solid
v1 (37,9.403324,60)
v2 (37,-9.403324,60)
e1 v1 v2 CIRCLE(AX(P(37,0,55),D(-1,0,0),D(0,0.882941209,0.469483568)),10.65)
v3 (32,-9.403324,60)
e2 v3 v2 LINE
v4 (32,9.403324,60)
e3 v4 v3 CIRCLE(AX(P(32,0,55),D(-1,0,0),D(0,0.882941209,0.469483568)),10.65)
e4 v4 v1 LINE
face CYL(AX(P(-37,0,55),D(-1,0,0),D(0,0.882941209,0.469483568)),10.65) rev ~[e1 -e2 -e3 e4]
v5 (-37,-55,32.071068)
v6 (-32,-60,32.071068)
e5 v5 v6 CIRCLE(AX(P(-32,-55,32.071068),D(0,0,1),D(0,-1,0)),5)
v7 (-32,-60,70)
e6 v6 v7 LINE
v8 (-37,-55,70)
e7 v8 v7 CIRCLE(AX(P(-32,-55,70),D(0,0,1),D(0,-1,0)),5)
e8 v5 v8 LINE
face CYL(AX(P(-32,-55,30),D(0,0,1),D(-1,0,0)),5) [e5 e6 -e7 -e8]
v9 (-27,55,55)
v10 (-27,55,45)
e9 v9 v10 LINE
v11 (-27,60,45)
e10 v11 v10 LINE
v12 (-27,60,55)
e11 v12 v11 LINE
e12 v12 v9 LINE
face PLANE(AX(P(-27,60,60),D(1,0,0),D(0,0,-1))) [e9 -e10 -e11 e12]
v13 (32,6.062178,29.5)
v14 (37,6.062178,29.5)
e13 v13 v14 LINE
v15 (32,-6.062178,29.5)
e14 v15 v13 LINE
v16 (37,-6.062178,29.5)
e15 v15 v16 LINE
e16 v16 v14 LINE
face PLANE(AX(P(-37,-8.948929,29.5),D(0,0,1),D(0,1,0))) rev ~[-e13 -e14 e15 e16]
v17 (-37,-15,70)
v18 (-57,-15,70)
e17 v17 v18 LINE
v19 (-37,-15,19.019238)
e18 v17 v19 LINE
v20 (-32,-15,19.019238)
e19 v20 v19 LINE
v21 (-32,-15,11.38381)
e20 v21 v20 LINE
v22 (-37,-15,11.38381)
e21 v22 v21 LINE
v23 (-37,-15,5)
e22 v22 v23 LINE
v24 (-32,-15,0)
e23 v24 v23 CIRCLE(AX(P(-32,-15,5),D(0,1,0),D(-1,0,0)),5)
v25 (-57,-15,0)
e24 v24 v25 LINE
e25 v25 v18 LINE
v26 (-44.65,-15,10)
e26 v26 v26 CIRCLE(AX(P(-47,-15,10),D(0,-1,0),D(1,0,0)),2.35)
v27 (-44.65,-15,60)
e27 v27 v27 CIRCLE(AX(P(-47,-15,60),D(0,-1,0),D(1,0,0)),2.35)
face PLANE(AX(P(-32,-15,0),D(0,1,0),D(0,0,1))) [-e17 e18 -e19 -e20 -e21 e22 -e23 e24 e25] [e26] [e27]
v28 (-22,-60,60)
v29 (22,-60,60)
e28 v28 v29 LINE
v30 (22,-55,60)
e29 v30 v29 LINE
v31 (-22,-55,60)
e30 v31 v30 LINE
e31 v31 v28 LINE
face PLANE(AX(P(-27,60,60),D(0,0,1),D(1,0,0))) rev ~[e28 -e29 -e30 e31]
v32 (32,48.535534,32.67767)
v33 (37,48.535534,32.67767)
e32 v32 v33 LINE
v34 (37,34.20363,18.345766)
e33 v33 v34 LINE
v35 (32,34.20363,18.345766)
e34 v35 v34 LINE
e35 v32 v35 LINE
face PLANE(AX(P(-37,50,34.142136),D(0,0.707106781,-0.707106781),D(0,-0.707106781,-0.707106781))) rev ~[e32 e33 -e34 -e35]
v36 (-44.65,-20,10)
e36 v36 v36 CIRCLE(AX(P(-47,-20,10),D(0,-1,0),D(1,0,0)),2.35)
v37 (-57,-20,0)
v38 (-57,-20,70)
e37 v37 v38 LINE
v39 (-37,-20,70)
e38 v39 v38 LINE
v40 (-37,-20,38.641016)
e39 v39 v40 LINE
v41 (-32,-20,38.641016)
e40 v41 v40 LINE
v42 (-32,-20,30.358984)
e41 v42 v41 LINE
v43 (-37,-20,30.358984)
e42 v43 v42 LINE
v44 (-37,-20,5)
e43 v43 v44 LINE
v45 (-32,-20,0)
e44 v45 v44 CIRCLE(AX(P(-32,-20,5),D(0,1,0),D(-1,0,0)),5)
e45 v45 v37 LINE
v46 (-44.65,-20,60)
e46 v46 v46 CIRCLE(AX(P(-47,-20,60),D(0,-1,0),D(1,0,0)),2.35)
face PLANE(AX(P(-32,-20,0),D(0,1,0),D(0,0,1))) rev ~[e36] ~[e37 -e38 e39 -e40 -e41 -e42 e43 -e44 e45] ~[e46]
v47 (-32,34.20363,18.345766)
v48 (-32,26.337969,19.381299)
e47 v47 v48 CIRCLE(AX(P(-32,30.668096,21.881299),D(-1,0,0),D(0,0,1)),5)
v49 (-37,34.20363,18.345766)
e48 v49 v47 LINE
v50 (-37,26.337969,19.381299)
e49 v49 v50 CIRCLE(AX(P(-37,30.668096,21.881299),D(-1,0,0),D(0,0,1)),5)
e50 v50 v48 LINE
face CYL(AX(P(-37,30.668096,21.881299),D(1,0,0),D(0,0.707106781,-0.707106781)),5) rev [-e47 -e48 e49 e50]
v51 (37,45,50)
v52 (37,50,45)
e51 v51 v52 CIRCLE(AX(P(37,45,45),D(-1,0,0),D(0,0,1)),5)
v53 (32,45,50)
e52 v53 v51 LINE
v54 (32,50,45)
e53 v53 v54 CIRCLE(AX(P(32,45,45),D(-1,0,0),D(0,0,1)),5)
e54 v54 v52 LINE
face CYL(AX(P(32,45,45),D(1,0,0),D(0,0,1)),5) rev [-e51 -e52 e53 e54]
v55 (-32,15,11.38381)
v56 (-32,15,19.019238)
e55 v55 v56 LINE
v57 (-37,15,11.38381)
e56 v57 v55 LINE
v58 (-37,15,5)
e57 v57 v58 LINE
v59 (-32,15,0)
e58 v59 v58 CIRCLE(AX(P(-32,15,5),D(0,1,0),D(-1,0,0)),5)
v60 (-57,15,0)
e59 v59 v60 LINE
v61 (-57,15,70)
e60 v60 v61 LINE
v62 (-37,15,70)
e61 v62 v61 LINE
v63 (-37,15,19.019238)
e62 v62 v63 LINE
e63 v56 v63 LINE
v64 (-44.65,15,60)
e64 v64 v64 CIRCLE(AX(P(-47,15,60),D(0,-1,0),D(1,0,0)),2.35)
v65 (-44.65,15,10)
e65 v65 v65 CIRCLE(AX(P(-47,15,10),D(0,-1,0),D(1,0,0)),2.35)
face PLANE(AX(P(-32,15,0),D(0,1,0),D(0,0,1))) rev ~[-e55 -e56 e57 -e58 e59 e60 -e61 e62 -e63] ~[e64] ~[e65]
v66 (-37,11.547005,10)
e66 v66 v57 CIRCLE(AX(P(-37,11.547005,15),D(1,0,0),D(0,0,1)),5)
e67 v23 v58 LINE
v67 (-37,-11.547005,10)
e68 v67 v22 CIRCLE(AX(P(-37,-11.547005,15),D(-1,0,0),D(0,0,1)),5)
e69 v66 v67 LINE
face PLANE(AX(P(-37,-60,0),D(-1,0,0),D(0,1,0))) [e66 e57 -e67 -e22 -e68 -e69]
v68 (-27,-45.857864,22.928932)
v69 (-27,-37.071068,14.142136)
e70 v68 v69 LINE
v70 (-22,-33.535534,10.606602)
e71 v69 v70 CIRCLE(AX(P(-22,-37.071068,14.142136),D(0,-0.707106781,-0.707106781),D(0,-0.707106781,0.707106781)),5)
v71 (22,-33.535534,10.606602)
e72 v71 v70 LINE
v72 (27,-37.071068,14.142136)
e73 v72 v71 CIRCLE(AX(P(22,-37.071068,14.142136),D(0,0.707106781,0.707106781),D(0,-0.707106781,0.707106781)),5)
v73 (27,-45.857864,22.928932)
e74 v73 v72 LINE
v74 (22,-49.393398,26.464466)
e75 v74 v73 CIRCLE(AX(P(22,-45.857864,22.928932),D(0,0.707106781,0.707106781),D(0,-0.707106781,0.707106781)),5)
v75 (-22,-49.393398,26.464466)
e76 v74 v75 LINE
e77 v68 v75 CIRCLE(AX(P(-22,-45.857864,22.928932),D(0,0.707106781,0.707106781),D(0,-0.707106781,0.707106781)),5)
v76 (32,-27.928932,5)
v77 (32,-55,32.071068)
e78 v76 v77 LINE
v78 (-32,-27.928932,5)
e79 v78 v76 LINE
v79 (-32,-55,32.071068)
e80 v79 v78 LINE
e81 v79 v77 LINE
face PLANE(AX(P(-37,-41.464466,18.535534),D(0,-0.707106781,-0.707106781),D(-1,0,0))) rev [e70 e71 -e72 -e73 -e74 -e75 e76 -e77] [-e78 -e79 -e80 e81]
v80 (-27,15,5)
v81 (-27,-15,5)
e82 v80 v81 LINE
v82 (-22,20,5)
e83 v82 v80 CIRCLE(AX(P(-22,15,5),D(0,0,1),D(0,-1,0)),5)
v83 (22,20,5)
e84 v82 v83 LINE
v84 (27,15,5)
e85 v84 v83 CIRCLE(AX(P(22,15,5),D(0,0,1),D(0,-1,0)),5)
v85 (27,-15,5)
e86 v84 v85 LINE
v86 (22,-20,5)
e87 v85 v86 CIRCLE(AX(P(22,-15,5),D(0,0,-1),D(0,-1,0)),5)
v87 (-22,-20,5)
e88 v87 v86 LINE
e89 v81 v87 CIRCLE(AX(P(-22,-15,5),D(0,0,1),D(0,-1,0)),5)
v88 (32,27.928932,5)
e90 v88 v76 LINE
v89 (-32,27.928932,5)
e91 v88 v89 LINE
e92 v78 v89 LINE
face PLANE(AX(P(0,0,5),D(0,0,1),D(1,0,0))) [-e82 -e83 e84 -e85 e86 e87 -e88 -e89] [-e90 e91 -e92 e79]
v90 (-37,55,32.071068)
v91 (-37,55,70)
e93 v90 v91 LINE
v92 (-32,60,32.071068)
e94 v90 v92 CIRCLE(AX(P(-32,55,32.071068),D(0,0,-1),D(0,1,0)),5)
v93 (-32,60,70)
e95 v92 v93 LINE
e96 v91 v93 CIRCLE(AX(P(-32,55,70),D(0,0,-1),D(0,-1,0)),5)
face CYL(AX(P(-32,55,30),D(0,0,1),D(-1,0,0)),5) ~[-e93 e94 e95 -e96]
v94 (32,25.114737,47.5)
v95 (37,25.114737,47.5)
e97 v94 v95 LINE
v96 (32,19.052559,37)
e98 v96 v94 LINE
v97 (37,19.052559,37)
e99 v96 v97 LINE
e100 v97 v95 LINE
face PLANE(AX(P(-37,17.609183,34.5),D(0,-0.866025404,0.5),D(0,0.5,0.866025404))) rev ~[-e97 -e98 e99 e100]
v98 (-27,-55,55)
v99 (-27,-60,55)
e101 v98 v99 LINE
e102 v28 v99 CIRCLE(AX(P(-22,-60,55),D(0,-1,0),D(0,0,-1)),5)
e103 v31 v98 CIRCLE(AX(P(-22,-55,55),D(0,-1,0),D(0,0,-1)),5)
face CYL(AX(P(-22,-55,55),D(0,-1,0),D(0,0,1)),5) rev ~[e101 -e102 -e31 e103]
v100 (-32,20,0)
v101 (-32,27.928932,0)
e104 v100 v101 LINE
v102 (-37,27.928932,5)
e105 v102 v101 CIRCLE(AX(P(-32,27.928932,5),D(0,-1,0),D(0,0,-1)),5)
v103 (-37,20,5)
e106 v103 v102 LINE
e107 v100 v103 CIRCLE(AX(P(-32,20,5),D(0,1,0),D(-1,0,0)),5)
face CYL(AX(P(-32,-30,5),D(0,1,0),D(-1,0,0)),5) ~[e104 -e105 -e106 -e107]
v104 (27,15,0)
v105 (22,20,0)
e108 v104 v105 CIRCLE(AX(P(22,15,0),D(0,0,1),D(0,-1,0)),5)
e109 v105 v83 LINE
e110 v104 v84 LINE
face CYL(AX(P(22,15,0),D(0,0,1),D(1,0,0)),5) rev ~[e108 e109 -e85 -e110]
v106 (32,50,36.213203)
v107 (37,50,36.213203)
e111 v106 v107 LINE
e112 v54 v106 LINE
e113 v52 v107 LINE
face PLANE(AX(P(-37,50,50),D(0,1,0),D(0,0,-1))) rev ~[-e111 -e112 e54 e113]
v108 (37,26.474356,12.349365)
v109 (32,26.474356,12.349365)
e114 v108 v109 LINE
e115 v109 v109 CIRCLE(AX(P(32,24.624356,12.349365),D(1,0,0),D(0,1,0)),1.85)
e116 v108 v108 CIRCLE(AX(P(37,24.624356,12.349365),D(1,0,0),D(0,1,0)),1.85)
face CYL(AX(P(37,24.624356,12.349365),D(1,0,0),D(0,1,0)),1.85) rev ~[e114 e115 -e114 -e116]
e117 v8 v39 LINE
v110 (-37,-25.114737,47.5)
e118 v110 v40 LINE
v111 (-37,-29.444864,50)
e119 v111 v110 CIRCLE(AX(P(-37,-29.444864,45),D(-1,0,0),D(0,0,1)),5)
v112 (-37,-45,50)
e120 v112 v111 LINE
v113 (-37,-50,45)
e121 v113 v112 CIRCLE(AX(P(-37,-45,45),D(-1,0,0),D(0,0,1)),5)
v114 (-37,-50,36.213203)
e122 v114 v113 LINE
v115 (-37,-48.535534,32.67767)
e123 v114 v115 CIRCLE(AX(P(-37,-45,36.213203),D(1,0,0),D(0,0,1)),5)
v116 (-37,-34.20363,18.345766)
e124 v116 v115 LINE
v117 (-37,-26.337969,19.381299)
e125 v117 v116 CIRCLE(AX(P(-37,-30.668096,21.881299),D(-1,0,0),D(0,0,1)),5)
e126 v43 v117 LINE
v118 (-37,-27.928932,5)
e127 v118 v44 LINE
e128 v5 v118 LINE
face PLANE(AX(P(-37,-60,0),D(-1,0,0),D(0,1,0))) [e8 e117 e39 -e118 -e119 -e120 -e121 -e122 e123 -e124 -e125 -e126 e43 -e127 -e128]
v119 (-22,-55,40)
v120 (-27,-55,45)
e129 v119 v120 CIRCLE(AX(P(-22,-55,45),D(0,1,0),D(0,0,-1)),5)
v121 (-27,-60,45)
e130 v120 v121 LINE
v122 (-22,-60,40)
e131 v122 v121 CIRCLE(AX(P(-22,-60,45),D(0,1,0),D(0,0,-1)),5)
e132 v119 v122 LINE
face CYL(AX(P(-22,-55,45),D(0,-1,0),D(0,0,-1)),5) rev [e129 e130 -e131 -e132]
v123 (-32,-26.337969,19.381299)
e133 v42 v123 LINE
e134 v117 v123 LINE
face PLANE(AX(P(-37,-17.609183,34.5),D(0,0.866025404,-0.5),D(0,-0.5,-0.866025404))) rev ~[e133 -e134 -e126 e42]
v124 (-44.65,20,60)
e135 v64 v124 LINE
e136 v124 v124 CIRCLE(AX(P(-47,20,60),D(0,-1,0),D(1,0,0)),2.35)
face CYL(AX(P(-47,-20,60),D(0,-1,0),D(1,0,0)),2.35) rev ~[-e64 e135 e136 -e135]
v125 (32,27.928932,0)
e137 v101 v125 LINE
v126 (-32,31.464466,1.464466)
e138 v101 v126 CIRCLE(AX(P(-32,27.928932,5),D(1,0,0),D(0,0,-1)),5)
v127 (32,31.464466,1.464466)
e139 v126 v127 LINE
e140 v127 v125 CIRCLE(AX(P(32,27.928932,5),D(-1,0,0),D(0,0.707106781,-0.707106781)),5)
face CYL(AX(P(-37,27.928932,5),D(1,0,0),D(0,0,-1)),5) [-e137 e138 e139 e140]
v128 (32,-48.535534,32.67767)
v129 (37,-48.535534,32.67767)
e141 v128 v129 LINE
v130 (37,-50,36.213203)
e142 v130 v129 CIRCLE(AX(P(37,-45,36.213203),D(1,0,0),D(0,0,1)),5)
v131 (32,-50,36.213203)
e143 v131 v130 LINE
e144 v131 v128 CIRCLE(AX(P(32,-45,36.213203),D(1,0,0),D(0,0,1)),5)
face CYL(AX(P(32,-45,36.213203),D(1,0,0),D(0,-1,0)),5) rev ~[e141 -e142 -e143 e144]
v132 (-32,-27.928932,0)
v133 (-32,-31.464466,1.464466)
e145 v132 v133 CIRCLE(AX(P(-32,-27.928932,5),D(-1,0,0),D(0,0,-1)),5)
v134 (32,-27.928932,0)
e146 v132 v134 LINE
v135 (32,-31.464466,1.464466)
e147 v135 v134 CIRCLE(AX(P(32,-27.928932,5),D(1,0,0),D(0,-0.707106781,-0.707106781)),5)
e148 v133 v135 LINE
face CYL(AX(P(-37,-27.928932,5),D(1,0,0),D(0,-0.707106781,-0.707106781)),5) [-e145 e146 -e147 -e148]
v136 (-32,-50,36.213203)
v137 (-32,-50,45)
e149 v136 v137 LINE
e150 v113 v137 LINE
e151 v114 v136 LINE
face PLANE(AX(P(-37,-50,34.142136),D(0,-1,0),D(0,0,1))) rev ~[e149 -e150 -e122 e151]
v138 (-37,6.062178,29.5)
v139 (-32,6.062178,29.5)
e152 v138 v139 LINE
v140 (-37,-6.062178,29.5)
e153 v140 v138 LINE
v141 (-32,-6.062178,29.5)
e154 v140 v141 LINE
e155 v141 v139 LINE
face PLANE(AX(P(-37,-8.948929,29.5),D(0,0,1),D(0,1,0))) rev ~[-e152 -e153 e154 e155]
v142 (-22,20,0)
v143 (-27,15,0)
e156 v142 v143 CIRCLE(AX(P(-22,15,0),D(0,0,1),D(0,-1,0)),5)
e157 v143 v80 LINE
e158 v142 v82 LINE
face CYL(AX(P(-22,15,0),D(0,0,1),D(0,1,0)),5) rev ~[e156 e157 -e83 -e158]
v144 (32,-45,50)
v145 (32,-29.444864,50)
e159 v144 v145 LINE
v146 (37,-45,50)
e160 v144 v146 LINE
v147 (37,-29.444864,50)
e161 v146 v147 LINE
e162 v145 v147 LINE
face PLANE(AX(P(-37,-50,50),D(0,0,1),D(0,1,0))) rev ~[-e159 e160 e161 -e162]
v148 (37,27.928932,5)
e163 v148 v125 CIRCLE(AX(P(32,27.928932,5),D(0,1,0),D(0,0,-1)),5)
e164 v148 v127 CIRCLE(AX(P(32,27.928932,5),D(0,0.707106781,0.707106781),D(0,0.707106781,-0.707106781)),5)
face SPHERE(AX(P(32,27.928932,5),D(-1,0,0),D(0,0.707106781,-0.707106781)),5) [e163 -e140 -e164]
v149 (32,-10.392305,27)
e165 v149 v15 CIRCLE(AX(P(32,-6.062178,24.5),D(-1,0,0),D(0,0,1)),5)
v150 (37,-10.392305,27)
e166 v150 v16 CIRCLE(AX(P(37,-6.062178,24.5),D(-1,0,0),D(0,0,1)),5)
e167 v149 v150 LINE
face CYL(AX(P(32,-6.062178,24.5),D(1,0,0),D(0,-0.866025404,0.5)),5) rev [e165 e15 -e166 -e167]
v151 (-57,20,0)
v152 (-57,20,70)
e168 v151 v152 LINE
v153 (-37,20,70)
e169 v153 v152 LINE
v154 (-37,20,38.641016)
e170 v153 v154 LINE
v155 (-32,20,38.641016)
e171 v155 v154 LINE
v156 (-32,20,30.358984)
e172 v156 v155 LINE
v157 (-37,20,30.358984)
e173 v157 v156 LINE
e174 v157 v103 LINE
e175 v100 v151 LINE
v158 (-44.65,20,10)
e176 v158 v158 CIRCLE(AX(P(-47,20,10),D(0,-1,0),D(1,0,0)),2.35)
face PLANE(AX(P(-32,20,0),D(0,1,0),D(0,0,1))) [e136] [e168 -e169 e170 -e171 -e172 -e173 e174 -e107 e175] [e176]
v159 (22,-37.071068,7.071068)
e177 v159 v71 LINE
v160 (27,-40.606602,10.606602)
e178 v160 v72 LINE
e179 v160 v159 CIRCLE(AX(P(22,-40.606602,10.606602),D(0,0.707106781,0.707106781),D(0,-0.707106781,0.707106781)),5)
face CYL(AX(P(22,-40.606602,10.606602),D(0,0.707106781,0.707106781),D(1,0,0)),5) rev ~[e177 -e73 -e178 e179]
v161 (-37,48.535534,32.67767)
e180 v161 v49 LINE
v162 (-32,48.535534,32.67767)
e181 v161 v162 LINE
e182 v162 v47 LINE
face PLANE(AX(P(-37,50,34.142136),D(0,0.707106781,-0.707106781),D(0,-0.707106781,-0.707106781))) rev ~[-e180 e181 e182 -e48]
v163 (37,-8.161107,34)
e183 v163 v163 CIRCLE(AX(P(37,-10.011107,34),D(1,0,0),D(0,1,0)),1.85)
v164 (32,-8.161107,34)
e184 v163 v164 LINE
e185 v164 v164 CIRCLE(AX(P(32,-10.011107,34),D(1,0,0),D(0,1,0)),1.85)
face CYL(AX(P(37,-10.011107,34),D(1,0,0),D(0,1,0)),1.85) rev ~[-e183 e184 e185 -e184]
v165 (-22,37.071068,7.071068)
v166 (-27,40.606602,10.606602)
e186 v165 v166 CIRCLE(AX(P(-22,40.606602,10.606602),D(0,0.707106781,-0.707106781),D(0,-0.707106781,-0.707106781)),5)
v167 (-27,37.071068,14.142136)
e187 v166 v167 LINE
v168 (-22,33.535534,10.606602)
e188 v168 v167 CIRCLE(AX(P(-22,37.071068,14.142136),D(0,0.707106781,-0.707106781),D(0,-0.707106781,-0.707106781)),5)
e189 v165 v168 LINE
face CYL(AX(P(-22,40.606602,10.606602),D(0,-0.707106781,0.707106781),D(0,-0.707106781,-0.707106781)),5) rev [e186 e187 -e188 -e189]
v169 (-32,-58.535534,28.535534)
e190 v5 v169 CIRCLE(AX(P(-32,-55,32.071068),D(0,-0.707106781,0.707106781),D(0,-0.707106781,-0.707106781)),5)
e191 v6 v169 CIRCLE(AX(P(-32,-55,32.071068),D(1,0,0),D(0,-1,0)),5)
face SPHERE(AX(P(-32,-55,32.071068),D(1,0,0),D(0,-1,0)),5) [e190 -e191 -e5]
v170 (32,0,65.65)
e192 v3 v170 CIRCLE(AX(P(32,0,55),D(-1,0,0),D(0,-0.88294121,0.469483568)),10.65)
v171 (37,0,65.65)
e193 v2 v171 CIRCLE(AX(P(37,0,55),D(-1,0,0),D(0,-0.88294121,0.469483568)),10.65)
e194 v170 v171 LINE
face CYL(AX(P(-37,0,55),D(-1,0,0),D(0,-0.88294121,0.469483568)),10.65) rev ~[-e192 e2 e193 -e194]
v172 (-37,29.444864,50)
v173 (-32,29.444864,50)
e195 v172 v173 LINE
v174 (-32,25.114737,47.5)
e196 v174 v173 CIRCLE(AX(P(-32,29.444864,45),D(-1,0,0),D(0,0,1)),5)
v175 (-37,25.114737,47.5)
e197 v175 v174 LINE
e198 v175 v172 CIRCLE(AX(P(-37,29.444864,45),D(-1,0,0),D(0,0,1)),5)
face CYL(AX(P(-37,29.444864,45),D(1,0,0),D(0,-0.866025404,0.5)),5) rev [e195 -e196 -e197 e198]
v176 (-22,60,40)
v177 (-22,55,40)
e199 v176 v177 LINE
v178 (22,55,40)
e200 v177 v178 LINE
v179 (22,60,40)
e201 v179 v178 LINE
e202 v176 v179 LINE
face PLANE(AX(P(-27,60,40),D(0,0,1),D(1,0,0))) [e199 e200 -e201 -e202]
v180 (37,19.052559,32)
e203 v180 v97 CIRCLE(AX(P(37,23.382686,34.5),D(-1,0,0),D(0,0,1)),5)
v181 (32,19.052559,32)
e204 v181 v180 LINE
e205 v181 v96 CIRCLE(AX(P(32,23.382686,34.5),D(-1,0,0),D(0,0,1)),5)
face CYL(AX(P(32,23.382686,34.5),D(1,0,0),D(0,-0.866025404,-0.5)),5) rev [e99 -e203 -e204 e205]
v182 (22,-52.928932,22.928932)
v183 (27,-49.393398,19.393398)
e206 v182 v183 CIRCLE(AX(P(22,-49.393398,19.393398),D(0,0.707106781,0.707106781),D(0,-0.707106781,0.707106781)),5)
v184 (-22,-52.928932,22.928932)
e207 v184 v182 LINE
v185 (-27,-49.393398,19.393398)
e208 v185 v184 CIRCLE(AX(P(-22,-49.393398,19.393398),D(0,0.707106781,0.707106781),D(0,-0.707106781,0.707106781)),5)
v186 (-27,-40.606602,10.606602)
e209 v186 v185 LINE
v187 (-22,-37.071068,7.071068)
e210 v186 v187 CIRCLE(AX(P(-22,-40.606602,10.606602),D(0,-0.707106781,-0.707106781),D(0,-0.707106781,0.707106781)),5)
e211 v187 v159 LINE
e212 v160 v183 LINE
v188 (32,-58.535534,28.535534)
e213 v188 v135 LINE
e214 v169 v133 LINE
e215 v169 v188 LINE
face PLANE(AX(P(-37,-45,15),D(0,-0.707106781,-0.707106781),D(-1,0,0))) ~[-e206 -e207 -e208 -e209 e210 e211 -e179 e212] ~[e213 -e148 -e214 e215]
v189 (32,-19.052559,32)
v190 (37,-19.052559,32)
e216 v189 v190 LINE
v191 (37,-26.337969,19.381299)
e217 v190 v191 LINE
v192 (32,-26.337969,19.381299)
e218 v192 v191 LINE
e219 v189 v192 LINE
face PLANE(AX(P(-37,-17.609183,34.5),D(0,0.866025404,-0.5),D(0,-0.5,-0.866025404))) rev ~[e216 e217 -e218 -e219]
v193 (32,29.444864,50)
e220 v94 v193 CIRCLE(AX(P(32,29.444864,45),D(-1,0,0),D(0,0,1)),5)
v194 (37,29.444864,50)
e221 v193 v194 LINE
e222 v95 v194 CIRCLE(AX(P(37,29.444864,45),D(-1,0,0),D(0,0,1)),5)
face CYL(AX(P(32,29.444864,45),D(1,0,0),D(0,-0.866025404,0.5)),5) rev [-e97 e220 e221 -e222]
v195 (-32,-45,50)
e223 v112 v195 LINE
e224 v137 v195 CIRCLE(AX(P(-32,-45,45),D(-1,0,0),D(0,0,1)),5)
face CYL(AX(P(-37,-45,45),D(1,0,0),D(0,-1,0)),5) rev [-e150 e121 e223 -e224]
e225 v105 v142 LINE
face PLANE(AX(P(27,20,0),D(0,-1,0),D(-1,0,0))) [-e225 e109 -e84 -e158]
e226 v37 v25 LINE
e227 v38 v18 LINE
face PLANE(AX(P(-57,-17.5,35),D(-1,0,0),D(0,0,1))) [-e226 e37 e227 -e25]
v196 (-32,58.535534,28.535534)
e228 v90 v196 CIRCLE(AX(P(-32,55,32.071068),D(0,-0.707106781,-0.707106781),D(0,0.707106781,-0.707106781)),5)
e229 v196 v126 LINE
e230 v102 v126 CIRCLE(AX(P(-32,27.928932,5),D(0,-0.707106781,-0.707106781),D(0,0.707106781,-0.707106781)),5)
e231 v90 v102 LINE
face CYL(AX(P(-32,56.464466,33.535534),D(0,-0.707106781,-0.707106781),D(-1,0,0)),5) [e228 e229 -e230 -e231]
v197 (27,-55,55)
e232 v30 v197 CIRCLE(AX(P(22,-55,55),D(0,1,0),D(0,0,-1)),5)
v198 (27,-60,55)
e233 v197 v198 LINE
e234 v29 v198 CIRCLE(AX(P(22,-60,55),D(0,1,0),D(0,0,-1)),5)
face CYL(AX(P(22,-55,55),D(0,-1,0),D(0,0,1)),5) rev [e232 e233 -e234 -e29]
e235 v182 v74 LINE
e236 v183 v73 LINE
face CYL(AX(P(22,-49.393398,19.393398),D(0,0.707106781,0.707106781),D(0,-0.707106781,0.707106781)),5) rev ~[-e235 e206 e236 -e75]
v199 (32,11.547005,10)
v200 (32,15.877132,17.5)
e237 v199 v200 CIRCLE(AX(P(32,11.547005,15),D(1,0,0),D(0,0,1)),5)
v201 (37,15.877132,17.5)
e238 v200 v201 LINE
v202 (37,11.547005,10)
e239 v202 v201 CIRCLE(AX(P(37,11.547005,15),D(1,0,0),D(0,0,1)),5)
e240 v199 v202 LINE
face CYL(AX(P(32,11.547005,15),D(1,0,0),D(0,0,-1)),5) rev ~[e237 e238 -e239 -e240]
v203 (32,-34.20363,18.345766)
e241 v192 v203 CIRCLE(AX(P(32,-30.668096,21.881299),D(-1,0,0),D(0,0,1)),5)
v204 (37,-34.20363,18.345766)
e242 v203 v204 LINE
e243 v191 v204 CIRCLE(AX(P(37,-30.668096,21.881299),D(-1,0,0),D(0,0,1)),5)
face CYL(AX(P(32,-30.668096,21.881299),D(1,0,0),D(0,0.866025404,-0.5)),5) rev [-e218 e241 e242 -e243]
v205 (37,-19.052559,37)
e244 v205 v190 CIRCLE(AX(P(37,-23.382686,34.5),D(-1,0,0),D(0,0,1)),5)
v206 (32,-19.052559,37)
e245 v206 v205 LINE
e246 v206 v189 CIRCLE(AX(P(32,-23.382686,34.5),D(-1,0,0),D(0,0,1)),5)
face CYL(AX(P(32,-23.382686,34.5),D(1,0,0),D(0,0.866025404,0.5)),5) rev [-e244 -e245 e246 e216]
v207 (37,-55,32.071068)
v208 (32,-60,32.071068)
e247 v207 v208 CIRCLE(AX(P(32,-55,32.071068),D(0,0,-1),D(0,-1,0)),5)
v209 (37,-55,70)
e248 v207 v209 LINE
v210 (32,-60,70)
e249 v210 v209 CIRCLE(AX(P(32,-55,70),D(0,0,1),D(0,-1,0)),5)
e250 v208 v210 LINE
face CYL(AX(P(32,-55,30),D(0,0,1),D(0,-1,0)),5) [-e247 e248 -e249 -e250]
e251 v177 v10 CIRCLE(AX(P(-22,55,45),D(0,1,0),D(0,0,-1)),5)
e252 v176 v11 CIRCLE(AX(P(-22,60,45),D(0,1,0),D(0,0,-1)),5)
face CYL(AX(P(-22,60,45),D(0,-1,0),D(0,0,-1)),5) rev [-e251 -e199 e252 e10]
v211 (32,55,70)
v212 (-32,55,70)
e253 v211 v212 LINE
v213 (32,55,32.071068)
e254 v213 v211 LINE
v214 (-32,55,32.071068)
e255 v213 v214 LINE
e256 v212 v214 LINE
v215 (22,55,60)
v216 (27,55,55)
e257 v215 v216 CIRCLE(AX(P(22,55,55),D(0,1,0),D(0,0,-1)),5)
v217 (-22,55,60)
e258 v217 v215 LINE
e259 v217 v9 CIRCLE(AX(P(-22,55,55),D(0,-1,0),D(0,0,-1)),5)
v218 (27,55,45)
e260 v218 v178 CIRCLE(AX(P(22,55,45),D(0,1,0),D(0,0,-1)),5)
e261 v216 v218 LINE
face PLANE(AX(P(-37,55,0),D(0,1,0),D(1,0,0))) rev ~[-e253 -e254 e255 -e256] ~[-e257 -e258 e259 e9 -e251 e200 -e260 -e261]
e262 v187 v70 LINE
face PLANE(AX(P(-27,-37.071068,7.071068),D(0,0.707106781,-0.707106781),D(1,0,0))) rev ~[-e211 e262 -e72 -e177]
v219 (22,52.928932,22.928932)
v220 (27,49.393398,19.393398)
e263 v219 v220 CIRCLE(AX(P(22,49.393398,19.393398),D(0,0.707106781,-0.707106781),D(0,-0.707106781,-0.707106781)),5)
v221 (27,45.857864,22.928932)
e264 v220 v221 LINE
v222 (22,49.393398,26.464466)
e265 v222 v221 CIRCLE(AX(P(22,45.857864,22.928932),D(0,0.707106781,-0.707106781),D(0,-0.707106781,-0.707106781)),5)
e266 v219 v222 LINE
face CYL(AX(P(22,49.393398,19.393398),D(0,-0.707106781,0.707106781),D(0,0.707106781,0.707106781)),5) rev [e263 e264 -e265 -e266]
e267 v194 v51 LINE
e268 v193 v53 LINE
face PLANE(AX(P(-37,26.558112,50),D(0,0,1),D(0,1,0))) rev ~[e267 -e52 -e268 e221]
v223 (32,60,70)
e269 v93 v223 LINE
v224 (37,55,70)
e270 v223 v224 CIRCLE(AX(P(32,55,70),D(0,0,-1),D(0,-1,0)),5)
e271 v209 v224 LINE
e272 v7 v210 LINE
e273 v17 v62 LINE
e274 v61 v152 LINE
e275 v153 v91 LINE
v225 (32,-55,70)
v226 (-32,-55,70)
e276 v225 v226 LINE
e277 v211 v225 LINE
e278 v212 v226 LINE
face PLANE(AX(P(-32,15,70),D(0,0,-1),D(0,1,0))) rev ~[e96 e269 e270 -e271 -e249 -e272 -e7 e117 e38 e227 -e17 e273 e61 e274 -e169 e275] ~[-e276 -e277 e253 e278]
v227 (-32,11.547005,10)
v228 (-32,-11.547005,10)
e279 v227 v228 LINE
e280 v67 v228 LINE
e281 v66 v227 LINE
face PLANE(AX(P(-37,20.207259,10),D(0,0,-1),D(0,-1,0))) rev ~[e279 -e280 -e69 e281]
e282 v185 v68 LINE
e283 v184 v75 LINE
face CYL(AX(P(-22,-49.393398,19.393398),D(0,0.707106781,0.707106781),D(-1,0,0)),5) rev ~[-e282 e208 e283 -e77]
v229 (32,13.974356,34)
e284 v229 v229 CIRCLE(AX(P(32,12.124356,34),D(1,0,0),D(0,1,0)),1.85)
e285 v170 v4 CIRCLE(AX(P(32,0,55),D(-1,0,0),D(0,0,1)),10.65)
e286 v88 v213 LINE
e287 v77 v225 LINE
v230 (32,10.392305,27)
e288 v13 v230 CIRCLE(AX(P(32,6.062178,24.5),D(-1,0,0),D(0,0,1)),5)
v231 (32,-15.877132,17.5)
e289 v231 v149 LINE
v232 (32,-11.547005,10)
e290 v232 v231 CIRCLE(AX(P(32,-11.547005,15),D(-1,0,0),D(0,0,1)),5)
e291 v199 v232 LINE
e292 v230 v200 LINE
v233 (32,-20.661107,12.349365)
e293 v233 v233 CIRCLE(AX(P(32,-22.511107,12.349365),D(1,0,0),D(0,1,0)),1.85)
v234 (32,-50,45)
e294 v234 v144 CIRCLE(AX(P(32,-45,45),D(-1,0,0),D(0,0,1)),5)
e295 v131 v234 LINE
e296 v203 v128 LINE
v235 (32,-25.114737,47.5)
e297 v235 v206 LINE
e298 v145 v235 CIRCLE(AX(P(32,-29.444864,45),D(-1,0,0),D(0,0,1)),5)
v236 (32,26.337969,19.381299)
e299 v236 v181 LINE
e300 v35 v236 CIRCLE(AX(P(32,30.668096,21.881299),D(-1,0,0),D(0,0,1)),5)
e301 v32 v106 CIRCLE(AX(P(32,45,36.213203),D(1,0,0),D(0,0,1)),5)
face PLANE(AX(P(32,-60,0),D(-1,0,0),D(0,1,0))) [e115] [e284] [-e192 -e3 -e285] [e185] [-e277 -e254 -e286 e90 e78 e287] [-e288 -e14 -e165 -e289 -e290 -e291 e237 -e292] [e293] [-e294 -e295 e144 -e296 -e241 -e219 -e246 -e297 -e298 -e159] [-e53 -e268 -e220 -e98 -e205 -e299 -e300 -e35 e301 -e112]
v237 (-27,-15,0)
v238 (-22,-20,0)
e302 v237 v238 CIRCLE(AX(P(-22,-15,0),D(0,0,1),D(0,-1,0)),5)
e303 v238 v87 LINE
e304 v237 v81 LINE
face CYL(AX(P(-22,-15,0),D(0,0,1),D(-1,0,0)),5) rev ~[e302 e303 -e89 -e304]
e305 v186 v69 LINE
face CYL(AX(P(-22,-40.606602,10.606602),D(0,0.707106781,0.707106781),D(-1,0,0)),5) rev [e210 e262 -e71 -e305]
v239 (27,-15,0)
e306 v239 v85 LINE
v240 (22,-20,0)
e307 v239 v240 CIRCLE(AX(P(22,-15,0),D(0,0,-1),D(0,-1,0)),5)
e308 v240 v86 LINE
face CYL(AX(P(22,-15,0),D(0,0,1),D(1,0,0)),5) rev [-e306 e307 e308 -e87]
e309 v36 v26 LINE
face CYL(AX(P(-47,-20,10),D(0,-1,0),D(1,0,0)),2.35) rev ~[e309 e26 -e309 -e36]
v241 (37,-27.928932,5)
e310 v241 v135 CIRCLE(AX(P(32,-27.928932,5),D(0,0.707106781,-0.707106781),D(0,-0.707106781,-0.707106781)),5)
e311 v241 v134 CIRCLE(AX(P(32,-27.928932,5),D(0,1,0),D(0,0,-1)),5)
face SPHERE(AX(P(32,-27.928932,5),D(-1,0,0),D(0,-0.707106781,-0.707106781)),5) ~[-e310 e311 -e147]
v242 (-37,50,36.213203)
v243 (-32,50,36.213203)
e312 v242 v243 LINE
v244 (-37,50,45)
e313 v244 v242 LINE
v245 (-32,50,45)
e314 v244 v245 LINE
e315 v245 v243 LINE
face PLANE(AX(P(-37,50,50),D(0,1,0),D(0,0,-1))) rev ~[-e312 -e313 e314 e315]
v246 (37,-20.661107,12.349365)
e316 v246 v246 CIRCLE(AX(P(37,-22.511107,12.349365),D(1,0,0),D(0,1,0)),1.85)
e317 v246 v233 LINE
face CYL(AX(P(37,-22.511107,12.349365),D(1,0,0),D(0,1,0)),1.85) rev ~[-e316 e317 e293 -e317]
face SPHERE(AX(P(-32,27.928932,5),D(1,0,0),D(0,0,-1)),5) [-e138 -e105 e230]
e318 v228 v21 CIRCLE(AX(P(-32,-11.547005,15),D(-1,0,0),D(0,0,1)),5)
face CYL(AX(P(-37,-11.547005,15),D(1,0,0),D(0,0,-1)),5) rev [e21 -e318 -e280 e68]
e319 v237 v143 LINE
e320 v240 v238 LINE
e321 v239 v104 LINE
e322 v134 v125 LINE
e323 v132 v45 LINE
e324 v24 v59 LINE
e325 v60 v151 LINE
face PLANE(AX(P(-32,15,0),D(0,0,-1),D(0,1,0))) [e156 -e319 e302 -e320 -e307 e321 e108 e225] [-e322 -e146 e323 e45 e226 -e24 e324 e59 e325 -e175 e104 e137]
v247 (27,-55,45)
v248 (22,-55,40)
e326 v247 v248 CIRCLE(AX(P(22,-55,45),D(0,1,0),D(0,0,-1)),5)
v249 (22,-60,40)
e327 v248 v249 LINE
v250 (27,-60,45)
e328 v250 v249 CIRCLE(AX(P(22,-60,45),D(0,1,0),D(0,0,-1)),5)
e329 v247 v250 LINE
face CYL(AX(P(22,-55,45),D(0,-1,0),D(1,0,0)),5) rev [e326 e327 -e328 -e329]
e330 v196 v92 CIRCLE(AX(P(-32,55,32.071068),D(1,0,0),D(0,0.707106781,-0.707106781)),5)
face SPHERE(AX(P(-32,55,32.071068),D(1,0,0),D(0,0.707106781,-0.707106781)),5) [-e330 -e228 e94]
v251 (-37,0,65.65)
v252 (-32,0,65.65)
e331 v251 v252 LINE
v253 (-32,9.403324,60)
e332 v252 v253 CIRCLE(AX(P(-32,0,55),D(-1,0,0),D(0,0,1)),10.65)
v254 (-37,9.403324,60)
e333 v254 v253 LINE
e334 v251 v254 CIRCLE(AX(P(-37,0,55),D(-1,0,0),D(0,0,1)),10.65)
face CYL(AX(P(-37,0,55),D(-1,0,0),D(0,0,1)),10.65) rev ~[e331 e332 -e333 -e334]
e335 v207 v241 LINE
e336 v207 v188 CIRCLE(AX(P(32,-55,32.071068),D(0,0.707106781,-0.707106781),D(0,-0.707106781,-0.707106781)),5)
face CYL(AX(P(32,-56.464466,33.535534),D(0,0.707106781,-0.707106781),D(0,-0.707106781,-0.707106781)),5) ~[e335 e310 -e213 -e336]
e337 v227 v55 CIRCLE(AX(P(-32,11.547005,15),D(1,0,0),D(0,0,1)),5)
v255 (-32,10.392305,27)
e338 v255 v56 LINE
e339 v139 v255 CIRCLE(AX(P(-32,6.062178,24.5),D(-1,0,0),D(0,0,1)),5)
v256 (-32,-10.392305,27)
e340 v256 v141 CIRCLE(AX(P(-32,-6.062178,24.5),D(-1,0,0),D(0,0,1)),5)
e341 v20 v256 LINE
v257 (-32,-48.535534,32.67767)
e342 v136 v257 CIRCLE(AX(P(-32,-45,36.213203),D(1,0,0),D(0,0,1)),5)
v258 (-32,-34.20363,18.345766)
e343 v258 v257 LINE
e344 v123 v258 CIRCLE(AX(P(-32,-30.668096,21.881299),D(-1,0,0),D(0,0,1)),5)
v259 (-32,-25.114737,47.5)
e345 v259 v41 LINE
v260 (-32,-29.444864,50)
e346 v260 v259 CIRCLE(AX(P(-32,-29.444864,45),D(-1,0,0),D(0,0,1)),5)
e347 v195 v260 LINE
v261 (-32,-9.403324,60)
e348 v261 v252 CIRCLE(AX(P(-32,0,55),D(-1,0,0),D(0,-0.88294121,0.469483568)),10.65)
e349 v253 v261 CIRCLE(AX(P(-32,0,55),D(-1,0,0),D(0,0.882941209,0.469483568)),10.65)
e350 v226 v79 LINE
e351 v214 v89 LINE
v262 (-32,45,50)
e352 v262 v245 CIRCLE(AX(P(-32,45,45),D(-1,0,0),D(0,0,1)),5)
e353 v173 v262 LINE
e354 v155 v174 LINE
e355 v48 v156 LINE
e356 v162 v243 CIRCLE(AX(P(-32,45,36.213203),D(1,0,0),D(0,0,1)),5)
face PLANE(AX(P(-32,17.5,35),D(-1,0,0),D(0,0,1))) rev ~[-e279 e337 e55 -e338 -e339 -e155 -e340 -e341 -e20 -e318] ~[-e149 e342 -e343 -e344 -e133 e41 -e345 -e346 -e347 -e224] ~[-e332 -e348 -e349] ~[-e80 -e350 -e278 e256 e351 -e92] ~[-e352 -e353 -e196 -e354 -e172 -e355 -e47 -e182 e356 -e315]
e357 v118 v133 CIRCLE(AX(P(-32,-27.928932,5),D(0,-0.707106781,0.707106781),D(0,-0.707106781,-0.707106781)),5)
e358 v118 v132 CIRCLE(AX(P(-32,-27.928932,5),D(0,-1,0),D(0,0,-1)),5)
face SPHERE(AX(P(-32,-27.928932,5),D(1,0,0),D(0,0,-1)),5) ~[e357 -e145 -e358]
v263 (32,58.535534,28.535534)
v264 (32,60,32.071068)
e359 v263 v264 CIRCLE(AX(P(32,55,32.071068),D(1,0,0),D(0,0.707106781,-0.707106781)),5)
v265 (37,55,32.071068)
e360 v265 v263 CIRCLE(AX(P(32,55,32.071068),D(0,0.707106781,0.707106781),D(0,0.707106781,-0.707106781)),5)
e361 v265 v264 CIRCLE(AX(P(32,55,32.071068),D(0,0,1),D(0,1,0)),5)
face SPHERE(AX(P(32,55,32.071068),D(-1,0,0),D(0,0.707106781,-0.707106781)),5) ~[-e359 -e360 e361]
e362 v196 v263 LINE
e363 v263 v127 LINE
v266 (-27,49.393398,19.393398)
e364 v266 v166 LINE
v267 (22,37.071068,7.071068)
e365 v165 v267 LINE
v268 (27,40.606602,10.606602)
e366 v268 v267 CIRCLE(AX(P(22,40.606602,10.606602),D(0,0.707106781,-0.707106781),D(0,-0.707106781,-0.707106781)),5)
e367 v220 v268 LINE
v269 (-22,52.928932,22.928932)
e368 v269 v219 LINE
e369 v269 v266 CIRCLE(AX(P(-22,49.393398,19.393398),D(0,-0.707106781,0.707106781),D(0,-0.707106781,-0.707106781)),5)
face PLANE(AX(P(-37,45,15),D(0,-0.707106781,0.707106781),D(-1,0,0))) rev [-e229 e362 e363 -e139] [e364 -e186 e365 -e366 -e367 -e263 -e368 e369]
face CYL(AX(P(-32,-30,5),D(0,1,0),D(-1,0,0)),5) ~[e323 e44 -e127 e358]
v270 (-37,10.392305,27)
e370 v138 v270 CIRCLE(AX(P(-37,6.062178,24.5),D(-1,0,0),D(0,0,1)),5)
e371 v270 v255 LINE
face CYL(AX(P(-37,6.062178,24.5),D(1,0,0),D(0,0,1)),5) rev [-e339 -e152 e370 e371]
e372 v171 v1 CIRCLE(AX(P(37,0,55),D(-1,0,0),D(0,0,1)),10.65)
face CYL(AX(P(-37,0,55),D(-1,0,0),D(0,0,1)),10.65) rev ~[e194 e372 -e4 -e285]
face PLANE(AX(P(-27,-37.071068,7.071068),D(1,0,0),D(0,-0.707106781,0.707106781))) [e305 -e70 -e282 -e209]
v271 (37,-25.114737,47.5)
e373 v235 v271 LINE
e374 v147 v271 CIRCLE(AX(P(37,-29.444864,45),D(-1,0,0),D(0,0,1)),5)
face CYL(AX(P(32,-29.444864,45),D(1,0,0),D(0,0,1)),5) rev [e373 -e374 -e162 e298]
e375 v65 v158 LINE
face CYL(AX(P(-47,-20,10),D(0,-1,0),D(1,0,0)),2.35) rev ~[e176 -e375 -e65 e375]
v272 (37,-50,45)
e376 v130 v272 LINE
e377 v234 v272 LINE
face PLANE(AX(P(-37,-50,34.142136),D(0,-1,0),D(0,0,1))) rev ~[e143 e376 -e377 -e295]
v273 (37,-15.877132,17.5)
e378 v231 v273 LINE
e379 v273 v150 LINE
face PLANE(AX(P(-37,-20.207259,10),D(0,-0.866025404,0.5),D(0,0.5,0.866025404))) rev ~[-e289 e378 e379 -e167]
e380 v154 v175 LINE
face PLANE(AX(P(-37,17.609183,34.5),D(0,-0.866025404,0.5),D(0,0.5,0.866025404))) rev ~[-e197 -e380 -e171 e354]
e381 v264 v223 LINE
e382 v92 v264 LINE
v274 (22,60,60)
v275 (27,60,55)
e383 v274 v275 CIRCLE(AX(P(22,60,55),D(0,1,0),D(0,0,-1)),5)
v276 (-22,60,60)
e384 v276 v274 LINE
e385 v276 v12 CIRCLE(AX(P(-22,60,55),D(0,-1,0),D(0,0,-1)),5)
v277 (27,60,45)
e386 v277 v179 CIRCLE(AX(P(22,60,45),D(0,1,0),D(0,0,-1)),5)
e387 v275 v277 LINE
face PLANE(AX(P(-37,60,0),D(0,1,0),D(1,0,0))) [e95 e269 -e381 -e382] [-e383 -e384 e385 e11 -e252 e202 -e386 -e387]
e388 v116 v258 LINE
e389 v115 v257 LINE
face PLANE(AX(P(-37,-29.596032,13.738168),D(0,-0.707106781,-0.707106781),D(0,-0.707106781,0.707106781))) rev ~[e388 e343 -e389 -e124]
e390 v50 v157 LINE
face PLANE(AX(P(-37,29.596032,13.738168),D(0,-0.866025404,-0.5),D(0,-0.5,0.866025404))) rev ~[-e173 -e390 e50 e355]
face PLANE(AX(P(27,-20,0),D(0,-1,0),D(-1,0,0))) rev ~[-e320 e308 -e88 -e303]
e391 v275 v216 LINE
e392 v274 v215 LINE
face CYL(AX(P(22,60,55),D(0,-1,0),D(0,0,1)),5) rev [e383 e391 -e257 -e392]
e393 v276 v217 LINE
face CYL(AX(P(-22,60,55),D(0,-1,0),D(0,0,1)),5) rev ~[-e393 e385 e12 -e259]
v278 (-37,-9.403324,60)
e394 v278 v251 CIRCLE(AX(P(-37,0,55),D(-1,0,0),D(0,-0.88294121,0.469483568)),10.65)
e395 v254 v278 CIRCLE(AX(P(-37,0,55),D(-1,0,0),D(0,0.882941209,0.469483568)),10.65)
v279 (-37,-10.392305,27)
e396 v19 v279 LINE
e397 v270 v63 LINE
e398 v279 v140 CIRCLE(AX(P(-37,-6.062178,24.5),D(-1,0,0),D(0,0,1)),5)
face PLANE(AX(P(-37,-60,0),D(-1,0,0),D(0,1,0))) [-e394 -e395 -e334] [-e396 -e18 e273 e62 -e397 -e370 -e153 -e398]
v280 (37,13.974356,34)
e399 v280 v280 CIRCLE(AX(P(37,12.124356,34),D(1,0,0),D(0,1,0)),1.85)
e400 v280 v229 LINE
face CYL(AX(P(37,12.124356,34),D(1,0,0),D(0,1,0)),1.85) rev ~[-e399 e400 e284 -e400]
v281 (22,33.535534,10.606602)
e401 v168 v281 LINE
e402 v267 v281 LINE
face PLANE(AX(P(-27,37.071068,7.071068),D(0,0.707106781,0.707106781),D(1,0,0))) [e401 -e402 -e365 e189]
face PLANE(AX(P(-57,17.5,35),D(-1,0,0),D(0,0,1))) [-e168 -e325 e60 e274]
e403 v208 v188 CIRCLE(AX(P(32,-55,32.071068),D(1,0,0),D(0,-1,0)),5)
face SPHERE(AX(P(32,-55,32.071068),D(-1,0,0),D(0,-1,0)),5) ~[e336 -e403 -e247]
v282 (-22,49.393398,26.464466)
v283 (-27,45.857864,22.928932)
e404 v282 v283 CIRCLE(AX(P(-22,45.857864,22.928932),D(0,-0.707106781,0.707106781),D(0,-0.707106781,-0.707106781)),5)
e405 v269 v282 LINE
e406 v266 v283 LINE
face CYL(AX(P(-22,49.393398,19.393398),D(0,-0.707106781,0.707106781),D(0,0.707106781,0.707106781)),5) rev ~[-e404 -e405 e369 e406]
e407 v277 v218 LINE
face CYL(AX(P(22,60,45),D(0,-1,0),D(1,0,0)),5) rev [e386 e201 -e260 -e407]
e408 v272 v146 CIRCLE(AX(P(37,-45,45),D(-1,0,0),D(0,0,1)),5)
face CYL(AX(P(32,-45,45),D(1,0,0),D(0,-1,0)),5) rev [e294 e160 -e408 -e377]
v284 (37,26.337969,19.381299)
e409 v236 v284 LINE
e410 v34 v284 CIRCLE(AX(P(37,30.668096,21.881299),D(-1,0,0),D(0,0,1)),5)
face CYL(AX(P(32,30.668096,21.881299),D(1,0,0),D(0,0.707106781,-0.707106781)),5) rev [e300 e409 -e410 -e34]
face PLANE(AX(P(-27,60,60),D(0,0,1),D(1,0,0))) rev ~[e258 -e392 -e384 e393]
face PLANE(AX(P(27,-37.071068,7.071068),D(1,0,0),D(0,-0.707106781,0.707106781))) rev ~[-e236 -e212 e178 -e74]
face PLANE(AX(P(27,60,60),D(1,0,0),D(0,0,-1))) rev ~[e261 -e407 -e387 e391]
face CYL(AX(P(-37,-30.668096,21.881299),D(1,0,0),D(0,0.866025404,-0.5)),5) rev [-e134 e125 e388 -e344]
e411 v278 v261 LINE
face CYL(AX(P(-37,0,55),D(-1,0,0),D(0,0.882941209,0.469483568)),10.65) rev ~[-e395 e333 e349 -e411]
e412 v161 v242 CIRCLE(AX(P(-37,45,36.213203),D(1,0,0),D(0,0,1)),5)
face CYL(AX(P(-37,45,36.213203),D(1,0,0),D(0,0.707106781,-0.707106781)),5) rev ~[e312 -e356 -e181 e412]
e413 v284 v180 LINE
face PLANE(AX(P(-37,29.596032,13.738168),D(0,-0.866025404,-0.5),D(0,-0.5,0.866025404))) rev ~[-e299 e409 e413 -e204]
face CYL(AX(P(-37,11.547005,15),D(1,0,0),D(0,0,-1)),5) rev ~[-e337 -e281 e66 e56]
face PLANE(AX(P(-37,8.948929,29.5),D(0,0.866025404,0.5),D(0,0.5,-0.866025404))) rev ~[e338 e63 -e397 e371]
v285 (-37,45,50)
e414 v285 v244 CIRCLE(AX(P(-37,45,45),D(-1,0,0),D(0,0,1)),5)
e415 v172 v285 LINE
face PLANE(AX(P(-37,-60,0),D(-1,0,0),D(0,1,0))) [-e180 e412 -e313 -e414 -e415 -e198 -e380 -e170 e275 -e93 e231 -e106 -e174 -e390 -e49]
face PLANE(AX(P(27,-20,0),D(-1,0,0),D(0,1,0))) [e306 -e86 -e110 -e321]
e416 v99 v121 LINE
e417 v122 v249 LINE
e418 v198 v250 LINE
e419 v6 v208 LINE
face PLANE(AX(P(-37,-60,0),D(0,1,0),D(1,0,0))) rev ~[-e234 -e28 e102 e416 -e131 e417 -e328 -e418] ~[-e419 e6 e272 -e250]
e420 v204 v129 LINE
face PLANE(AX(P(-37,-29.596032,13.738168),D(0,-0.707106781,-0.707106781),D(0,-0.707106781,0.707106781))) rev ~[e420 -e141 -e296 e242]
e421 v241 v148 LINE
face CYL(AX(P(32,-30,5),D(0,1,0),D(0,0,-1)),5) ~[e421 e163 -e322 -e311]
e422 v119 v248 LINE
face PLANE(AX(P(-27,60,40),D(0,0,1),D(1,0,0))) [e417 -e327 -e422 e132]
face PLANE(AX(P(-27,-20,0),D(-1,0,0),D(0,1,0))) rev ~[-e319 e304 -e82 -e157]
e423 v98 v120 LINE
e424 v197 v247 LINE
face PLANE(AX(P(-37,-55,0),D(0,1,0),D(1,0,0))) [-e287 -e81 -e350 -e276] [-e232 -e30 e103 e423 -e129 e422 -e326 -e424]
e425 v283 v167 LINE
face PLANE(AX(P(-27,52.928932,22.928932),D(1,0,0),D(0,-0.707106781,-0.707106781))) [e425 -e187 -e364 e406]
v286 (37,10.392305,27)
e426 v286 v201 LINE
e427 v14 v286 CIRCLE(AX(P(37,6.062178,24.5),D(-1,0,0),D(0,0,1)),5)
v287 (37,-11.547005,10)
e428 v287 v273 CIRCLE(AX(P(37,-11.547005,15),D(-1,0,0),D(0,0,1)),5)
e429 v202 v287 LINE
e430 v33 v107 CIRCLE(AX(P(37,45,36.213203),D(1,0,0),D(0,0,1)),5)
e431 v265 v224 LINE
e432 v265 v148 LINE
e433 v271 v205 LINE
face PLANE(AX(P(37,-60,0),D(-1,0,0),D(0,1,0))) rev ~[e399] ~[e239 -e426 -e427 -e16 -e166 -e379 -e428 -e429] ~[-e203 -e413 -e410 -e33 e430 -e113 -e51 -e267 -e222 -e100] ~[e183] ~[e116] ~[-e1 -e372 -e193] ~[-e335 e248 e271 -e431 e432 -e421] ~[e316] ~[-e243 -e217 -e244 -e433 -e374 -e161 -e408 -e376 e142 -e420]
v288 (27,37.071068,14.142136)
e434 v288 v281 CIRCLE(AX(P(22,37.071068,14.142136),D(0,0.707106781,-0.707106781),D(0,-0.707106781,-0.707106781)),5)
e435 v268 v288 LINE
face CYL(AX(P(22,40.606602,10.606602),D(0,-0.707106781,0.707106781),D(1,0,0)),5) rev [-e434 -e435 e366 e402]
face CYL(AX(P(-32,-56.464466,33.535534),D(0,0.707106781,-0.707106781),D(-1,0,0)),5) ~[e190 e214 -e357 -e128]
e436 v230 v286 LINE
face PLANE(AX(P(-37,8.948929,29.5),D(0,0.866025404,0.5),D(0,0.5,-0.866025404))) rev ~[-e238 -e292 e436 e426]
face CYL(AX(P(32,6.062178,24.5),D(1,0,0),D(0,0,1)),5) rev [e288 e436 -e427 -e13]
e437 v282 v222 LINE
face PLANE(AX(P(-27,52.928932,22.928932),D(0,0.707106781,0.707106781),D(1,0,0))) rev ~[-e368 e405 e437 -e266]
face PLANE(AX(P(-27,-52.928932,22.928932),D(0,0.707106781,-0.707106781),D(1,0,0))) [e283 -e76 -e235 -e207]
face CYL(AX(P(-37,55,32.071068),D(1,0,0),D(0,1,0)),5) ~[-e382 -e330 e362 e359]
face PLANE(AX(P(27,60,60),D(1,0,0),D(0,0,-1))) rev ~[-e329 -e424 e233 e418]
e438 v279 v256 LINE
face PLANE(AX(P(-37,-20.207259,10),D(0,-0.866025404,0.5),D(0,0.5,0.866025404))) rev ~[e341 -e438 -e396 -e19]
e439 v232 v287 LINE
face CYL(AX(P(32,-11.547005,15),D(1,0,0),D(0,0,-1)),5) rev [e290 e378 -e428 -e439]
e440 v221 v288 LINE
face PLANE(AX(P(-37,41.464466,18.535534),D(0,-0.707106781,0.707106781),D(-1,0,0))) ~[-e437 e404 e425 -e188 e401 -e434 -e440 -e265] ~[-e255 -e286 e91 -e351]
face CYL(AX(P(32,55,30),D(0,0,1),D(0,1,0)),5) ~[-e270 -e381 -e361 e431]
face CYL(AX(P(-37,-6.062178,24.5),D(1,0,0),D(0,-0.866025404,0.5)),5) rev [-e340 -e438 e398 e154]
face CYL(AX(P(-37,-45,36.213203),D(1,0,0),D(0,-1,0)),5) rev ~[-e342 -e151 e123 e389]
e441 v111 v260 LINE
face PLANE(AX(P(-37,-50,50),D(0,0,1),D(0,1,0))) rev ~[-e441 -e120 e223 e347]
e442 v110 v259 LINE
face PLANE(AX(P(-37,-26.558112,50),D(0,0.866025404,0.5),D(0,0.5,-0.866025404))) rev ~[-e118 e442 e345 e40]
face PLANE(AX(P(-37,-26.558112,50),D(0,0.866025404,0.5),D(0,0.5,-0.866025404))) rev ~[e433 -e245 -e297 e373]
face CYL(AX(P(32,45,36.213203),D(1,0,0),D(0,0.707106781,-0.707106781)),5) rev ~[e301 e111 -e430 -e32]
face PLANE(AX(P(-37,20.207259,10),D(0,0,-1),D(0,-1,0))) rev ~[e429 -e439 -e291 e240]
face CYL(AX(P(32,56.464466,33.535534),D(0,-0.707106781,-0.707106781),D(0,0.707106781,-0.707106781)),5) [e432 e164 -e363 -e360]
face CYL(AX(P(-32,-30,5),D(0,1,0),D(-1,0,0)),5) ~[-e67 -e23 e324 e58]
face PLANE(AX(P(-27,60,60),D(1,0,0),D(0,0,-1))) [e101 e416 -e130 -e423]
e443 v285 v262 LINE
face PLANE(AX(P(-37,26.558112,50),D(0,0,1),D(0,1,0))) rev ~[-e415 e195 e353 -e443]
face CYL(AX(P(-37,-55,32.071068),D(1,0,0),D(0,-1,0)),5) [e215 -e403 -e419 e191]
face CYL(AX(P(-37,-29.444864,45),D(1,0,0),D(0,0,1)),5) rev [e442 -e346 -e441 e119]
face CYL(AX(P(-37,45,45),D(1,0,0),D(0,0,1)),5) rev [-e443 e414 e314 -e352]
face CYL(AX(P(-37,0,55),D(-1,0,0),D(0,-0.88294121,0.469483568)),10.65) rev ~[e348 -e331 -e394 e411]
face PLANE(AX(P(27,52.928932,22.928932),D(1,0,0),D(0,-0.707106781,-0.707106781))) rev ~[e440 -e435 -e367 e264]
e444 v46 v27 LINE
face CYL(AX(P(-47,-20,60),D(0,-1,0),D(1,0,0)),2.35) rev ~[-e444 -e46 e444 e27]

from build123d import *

# Parameters (mm, degrees)
SKETCH_1_W           = 74
SKETCH_1_H           = 120
EXTRUDE_1_DEPTH      = 70
CHAMFER_2_SIZE       = 30
SHELL_1_T            = -5
CUT_EXTRUDE_1_DEPTH  = 119.220133649
SKETCH_3_W           = 54
SKETCH_3_H           = 22.426406871
CUT_EXTRUDE_2_DEPTH  = 70
SKETCH_4_W           = 54
SKETCH_4_H           = 22.426406871
CUT_EXTRUDE_3_DEPTH  = 70
SKETCH_5_W           = 54
SKETCH_5_H           = 40
CUT_EXTRUDE_4_DEPTH  = 70
SKETCH_7_W           = 54
SKETCH_7_H           = 20
CUT_EXTRUDE_5_DEPTH  = 144.767172887
FILLET_1_R           = 5
EXTRUDE_3_DEPTH      = 20
EXTRUDE_3_DEPTH_BACK = 5
SKETCH_10_W          = 70
SKETCH_10_H          = 5
SKETCH_12_R          = 2.35
CUT_EXTRUDE_7_DEPTH  = 121.619235614
SKETCH_13_R          = 1.85
CUT_EXTRUDE_8_DEPTH  = 10


with BuildPart() as part:
    # ｽｹｯﾁ1 → ﾎﾞｽ - 押し出し1 (new body)
    with BuildSketch(Plane.XY):
        Rectangle(SKETCH_1_W, SKETCH_1_H)
    extrude(amount=EXTRUDE_1_DEPTH)

    # 面取り2
    chamfer_2_edges = [part.edges().sort_by_distance(p)[0] for p in [
        (0, -60, 0),
        (0, 60, 0),
    ]]
    chamfer(chamfer_2_edges, length=CHAMFER_2_SIZE)

    # ｼｪﾙ1
    shell_1_openings = [part.faces().sort_by_distance(p)[0] for p in [
        (0, 0, 70),
    ]]
    offset(amount=SHELL_1_T, openings=shell_1_openings, kind=Kind.INTERSECTION)

    # ｽｹｯﾁ2 → ｶｯﾄ - 押し出し1 (cut, through all)
    with BuildSketch(Plane.ZY.offset(37)):
        Polygon((34.142135624, -50), (50, -50), (50, -26.558112383), (34.5, -17.60918321), (13.738168081, -29.596032457), align=None)
        Polygon((10, 20.207259422), (10, -20.207259422), (29.5, -8.948929172), (29.5, 8.948929172), align=None)
        Polygon((34.142135624, 50), (13.738168081, 29.596032457), (34.5, 17.60918321), (50, 26.558112383), (50, 50), align=None)
        with BuildLine():
            ThreePointArc((60, 9.40332388), (44.35, 0), (60, -9.40332388))
            Line((60, -9.40332388), (60, 9.40332388))
        make_face()
        with BuildLine():
            Line((60, 9.40332388), (60, -9.40332388))
            ThreePointArc((60, -9.40332388), (64.128869043, -5.485093436), (65.65, 0))
            ThreePointArc((65.65, 0), (64.128869043, 5.485093436), (60, 9.40332388))
        make_face()
    extrude(amount=-CUT_EXTRUDE_1_DEPTH, mode=Mode.SUBTRACT)

    # ｽｹｯﾁ3 → ｶｯﾄ - 押し出し2 (cut)
    with BuildSketch(Plane(origin=(0, -15, -15), x_dir=(1, 0, 0), z_dir=(0, -0.7071067811865464, -0.7071067811865487))):
        with Locations((0, 42.426406872)):
            Rectangle(SKETCH_3_W, SKETCH_3_H)
    extrude(amount=-CUT_EXTRUDE_2_DEPTH, mode=Mode.SUBTRACT)

    # ｽｹｯﾁ4 → ｶｯﾄ - 押し出し3 (cut)
    with BuildSketch(Plane(origin=(0, 15, -15), x_dir=(1, 0, 0), z_dir=(0, 0.7071067811865464, -0.7071067811865487))):
        with Locations((0, -42.426406872)):
            Rectangle(SKETCH_4_W, SKETCH_4_H)
    extrude(amount=-CUT_EXTRUDE_3_DEPTH, mode=Mode.SUBTRACT)

    # ｽｹｯﾁ5 → ｶｯﾄ - 押し出し4 (cut)
    with BuildSketch(Plane(origin=(0, 0, 0), x_dir=(-1, 0, 0), z_dir=(0, 0, -1))):
        Rectangle(SKETCH_5_W, SKETCH_5_H)
    extrude(amount=-CUT_EXTRUDE_4_DEPTH, mode=Mode.SUBTRACT)

    # ｽｹｯﾁ7 → ｶｯﾄ - 押し出し5 (cut, through all)
    with BuildSketch(Plane(origin=(0, 60, 0), x_dir=(1, 0, 0), z_dir=(0, 1, 0))):
        with Locations((0, -50)):
            Rectangle(SKETCH_7_W, SKETCH_7_H)
    extrude(amount=-CUT_EXTRUDE_5_DEPTH, mode=Mode.SUBTRACT)

    # ﾌｨﾚｯﾄ1
    fillet_1_edges = [part.edges().sort_by_distance(p)[0] for p in [
        (34.5, 20.207259422, 10),
        (34.5, 8.948929172, 29.5),
        (34.5, -8.948929172, 29.5),
        (34.5, -20.207259422, 10),
        (-34.5, 20.207259422, 10),
        (-34.5, 8.948929172, 29.5),
        (-34.5, -8.948929172, 29.5),
        (-34.5, -20.207259422, 10),
        (0, 60, 30),
        (-27, -51.161165235, 24.696699141),
        (27, -51.161165235, 24.696699141),
        (27, -35.303300859, 8.838834765),
        (-27, -35.303300859, 8.838834765),
        (-37, 0, 0),
        (-37, -45, 15),
        (-37, 45, 15),
        (27, 51.161165235, 24.696699141),
        (-27, 51.161165235, 24.696699141),
        (-27, 35.303300859, 8.838834765),
        (27, 35.303300859, 8.838834765),
        (37, 0, 0),
        (0, -30, 0),
        (0, 30, 0),
        (37, -45, 15),
        (-27, -20, 2.5),
        (27, -20, 2.5),
        (27, 20, 2.5),
        (-27, 20, 2.5),
        (37, 45, 15),
        (0, -60, 30),
        (27, 57.5, 60),
        (-27, 57.5, 60),
        (-27, 57.5, 40),
        (27, 57.5, 40),
        (27, -57.5, 60),
        (-27, -57.5, 60),
        (-27, -57.5, 40),
        (27, -57.5, 40),
        (34.5, -50, 34.142135624),
        (34.5, -29.596032457, 13.738168081),
        (34.5, -17.60918321, 34.5),
        (34.5, -26.558112383, 50),
        (34.5, -50, 50),
        (-34.5, -50, 34.142135624),
        (-34.5, -29.596032457, 13.738168081),
        (-34.5, -17.60918321, 34.5),
        (-34.5, -26.558112383, 50),
        (-34.5, -50, 50),
        (37, -60, 50),
        (-37, -60, 50),
        (-37, 60, 50),
        (37, 60, 50),
        (34.5, 50, 34.142135624),
        (34.5, 50, 50),
        (34.5, 26.558112383, 50),
        (34.5, 17.60918321, 34.5),
        (34.5, 29.596032457, 13.738168081),
        (-34.5, 50, 34.142135624),
        (-34.5, 50, 50),
        (-34.5, 26.558112383, 50),
        (-34.5, 17.60918321, 34.5),
        (-34.5, 29.596032457, 13.738168081),
    ]]
    fillet(fillet_1_edges, radius=FILLET_1_R)

    # ｽｹｯﾁ10 → ﾎﾞｽ - 押し出し3 (add, two sides: drawn at the far end of the back side and taken through both)
    with BuildSketch(Plane.ZY.offset(37).offset(-EXTRUDE_3_DEPTH_BACK)):
        with Locations((35, 17.5)):
            Rectangle(SKETCH_10_W, SKETCH_10_H)
        with Locations((35, -17.5)):
            Rectangle(SKETCH_10_W, SKETCH_10_H)
    extrude(amount=EXTRUDE_3_DEPTH + EXTRUDE_3_DEPTH_BACK)

    # ｽｹｯﾁ12 → ｶｯﾄ - 押し出し7 (cut, through all)
    with BuildSketch(Plane.XZ.offset(20)):
        with Locations((-47, 60)):
            Circle(SKETCH_12_R)
        with Locations((-47, 10)):
            Circle(SKETCH_12_R)
    extrude(amount=-CUT_EXTRUDE_7_DEPTH, mode=Mode.SUBTRACT)

    # ｽｹｯﾁ13 → ｶｯﾄ - 押し出し8 (cut)
    with BuildSketch(Plane(origin=(37, 0, 0), x_dir=(0, 0, -1), z_dir=(1, 0, 0))):
        with Locations(Location((-12.349364905, 24.624355653, 0), (0, 0, 90))):
            Circle(SKETCH_13_R)
        with Locations(Location((-34, 12.124355653, 0), (0, 0, 90))):
            Circle(SKETCH_13_R)
        with Locations(Location((-34, -10.011106999, 0), (0, 0, 90))):
            Circle(SKETCH_13_R)
        with Locations(Location((-12.349364905, -22.511106999, 0), (0, 0, 90))):
            Circle(SKETCH_13_R)
    extrude(amount=-CUT_EXTRUDE_8_DEPTH, mode=Mode.SUBTRACT)


solid = part.part
